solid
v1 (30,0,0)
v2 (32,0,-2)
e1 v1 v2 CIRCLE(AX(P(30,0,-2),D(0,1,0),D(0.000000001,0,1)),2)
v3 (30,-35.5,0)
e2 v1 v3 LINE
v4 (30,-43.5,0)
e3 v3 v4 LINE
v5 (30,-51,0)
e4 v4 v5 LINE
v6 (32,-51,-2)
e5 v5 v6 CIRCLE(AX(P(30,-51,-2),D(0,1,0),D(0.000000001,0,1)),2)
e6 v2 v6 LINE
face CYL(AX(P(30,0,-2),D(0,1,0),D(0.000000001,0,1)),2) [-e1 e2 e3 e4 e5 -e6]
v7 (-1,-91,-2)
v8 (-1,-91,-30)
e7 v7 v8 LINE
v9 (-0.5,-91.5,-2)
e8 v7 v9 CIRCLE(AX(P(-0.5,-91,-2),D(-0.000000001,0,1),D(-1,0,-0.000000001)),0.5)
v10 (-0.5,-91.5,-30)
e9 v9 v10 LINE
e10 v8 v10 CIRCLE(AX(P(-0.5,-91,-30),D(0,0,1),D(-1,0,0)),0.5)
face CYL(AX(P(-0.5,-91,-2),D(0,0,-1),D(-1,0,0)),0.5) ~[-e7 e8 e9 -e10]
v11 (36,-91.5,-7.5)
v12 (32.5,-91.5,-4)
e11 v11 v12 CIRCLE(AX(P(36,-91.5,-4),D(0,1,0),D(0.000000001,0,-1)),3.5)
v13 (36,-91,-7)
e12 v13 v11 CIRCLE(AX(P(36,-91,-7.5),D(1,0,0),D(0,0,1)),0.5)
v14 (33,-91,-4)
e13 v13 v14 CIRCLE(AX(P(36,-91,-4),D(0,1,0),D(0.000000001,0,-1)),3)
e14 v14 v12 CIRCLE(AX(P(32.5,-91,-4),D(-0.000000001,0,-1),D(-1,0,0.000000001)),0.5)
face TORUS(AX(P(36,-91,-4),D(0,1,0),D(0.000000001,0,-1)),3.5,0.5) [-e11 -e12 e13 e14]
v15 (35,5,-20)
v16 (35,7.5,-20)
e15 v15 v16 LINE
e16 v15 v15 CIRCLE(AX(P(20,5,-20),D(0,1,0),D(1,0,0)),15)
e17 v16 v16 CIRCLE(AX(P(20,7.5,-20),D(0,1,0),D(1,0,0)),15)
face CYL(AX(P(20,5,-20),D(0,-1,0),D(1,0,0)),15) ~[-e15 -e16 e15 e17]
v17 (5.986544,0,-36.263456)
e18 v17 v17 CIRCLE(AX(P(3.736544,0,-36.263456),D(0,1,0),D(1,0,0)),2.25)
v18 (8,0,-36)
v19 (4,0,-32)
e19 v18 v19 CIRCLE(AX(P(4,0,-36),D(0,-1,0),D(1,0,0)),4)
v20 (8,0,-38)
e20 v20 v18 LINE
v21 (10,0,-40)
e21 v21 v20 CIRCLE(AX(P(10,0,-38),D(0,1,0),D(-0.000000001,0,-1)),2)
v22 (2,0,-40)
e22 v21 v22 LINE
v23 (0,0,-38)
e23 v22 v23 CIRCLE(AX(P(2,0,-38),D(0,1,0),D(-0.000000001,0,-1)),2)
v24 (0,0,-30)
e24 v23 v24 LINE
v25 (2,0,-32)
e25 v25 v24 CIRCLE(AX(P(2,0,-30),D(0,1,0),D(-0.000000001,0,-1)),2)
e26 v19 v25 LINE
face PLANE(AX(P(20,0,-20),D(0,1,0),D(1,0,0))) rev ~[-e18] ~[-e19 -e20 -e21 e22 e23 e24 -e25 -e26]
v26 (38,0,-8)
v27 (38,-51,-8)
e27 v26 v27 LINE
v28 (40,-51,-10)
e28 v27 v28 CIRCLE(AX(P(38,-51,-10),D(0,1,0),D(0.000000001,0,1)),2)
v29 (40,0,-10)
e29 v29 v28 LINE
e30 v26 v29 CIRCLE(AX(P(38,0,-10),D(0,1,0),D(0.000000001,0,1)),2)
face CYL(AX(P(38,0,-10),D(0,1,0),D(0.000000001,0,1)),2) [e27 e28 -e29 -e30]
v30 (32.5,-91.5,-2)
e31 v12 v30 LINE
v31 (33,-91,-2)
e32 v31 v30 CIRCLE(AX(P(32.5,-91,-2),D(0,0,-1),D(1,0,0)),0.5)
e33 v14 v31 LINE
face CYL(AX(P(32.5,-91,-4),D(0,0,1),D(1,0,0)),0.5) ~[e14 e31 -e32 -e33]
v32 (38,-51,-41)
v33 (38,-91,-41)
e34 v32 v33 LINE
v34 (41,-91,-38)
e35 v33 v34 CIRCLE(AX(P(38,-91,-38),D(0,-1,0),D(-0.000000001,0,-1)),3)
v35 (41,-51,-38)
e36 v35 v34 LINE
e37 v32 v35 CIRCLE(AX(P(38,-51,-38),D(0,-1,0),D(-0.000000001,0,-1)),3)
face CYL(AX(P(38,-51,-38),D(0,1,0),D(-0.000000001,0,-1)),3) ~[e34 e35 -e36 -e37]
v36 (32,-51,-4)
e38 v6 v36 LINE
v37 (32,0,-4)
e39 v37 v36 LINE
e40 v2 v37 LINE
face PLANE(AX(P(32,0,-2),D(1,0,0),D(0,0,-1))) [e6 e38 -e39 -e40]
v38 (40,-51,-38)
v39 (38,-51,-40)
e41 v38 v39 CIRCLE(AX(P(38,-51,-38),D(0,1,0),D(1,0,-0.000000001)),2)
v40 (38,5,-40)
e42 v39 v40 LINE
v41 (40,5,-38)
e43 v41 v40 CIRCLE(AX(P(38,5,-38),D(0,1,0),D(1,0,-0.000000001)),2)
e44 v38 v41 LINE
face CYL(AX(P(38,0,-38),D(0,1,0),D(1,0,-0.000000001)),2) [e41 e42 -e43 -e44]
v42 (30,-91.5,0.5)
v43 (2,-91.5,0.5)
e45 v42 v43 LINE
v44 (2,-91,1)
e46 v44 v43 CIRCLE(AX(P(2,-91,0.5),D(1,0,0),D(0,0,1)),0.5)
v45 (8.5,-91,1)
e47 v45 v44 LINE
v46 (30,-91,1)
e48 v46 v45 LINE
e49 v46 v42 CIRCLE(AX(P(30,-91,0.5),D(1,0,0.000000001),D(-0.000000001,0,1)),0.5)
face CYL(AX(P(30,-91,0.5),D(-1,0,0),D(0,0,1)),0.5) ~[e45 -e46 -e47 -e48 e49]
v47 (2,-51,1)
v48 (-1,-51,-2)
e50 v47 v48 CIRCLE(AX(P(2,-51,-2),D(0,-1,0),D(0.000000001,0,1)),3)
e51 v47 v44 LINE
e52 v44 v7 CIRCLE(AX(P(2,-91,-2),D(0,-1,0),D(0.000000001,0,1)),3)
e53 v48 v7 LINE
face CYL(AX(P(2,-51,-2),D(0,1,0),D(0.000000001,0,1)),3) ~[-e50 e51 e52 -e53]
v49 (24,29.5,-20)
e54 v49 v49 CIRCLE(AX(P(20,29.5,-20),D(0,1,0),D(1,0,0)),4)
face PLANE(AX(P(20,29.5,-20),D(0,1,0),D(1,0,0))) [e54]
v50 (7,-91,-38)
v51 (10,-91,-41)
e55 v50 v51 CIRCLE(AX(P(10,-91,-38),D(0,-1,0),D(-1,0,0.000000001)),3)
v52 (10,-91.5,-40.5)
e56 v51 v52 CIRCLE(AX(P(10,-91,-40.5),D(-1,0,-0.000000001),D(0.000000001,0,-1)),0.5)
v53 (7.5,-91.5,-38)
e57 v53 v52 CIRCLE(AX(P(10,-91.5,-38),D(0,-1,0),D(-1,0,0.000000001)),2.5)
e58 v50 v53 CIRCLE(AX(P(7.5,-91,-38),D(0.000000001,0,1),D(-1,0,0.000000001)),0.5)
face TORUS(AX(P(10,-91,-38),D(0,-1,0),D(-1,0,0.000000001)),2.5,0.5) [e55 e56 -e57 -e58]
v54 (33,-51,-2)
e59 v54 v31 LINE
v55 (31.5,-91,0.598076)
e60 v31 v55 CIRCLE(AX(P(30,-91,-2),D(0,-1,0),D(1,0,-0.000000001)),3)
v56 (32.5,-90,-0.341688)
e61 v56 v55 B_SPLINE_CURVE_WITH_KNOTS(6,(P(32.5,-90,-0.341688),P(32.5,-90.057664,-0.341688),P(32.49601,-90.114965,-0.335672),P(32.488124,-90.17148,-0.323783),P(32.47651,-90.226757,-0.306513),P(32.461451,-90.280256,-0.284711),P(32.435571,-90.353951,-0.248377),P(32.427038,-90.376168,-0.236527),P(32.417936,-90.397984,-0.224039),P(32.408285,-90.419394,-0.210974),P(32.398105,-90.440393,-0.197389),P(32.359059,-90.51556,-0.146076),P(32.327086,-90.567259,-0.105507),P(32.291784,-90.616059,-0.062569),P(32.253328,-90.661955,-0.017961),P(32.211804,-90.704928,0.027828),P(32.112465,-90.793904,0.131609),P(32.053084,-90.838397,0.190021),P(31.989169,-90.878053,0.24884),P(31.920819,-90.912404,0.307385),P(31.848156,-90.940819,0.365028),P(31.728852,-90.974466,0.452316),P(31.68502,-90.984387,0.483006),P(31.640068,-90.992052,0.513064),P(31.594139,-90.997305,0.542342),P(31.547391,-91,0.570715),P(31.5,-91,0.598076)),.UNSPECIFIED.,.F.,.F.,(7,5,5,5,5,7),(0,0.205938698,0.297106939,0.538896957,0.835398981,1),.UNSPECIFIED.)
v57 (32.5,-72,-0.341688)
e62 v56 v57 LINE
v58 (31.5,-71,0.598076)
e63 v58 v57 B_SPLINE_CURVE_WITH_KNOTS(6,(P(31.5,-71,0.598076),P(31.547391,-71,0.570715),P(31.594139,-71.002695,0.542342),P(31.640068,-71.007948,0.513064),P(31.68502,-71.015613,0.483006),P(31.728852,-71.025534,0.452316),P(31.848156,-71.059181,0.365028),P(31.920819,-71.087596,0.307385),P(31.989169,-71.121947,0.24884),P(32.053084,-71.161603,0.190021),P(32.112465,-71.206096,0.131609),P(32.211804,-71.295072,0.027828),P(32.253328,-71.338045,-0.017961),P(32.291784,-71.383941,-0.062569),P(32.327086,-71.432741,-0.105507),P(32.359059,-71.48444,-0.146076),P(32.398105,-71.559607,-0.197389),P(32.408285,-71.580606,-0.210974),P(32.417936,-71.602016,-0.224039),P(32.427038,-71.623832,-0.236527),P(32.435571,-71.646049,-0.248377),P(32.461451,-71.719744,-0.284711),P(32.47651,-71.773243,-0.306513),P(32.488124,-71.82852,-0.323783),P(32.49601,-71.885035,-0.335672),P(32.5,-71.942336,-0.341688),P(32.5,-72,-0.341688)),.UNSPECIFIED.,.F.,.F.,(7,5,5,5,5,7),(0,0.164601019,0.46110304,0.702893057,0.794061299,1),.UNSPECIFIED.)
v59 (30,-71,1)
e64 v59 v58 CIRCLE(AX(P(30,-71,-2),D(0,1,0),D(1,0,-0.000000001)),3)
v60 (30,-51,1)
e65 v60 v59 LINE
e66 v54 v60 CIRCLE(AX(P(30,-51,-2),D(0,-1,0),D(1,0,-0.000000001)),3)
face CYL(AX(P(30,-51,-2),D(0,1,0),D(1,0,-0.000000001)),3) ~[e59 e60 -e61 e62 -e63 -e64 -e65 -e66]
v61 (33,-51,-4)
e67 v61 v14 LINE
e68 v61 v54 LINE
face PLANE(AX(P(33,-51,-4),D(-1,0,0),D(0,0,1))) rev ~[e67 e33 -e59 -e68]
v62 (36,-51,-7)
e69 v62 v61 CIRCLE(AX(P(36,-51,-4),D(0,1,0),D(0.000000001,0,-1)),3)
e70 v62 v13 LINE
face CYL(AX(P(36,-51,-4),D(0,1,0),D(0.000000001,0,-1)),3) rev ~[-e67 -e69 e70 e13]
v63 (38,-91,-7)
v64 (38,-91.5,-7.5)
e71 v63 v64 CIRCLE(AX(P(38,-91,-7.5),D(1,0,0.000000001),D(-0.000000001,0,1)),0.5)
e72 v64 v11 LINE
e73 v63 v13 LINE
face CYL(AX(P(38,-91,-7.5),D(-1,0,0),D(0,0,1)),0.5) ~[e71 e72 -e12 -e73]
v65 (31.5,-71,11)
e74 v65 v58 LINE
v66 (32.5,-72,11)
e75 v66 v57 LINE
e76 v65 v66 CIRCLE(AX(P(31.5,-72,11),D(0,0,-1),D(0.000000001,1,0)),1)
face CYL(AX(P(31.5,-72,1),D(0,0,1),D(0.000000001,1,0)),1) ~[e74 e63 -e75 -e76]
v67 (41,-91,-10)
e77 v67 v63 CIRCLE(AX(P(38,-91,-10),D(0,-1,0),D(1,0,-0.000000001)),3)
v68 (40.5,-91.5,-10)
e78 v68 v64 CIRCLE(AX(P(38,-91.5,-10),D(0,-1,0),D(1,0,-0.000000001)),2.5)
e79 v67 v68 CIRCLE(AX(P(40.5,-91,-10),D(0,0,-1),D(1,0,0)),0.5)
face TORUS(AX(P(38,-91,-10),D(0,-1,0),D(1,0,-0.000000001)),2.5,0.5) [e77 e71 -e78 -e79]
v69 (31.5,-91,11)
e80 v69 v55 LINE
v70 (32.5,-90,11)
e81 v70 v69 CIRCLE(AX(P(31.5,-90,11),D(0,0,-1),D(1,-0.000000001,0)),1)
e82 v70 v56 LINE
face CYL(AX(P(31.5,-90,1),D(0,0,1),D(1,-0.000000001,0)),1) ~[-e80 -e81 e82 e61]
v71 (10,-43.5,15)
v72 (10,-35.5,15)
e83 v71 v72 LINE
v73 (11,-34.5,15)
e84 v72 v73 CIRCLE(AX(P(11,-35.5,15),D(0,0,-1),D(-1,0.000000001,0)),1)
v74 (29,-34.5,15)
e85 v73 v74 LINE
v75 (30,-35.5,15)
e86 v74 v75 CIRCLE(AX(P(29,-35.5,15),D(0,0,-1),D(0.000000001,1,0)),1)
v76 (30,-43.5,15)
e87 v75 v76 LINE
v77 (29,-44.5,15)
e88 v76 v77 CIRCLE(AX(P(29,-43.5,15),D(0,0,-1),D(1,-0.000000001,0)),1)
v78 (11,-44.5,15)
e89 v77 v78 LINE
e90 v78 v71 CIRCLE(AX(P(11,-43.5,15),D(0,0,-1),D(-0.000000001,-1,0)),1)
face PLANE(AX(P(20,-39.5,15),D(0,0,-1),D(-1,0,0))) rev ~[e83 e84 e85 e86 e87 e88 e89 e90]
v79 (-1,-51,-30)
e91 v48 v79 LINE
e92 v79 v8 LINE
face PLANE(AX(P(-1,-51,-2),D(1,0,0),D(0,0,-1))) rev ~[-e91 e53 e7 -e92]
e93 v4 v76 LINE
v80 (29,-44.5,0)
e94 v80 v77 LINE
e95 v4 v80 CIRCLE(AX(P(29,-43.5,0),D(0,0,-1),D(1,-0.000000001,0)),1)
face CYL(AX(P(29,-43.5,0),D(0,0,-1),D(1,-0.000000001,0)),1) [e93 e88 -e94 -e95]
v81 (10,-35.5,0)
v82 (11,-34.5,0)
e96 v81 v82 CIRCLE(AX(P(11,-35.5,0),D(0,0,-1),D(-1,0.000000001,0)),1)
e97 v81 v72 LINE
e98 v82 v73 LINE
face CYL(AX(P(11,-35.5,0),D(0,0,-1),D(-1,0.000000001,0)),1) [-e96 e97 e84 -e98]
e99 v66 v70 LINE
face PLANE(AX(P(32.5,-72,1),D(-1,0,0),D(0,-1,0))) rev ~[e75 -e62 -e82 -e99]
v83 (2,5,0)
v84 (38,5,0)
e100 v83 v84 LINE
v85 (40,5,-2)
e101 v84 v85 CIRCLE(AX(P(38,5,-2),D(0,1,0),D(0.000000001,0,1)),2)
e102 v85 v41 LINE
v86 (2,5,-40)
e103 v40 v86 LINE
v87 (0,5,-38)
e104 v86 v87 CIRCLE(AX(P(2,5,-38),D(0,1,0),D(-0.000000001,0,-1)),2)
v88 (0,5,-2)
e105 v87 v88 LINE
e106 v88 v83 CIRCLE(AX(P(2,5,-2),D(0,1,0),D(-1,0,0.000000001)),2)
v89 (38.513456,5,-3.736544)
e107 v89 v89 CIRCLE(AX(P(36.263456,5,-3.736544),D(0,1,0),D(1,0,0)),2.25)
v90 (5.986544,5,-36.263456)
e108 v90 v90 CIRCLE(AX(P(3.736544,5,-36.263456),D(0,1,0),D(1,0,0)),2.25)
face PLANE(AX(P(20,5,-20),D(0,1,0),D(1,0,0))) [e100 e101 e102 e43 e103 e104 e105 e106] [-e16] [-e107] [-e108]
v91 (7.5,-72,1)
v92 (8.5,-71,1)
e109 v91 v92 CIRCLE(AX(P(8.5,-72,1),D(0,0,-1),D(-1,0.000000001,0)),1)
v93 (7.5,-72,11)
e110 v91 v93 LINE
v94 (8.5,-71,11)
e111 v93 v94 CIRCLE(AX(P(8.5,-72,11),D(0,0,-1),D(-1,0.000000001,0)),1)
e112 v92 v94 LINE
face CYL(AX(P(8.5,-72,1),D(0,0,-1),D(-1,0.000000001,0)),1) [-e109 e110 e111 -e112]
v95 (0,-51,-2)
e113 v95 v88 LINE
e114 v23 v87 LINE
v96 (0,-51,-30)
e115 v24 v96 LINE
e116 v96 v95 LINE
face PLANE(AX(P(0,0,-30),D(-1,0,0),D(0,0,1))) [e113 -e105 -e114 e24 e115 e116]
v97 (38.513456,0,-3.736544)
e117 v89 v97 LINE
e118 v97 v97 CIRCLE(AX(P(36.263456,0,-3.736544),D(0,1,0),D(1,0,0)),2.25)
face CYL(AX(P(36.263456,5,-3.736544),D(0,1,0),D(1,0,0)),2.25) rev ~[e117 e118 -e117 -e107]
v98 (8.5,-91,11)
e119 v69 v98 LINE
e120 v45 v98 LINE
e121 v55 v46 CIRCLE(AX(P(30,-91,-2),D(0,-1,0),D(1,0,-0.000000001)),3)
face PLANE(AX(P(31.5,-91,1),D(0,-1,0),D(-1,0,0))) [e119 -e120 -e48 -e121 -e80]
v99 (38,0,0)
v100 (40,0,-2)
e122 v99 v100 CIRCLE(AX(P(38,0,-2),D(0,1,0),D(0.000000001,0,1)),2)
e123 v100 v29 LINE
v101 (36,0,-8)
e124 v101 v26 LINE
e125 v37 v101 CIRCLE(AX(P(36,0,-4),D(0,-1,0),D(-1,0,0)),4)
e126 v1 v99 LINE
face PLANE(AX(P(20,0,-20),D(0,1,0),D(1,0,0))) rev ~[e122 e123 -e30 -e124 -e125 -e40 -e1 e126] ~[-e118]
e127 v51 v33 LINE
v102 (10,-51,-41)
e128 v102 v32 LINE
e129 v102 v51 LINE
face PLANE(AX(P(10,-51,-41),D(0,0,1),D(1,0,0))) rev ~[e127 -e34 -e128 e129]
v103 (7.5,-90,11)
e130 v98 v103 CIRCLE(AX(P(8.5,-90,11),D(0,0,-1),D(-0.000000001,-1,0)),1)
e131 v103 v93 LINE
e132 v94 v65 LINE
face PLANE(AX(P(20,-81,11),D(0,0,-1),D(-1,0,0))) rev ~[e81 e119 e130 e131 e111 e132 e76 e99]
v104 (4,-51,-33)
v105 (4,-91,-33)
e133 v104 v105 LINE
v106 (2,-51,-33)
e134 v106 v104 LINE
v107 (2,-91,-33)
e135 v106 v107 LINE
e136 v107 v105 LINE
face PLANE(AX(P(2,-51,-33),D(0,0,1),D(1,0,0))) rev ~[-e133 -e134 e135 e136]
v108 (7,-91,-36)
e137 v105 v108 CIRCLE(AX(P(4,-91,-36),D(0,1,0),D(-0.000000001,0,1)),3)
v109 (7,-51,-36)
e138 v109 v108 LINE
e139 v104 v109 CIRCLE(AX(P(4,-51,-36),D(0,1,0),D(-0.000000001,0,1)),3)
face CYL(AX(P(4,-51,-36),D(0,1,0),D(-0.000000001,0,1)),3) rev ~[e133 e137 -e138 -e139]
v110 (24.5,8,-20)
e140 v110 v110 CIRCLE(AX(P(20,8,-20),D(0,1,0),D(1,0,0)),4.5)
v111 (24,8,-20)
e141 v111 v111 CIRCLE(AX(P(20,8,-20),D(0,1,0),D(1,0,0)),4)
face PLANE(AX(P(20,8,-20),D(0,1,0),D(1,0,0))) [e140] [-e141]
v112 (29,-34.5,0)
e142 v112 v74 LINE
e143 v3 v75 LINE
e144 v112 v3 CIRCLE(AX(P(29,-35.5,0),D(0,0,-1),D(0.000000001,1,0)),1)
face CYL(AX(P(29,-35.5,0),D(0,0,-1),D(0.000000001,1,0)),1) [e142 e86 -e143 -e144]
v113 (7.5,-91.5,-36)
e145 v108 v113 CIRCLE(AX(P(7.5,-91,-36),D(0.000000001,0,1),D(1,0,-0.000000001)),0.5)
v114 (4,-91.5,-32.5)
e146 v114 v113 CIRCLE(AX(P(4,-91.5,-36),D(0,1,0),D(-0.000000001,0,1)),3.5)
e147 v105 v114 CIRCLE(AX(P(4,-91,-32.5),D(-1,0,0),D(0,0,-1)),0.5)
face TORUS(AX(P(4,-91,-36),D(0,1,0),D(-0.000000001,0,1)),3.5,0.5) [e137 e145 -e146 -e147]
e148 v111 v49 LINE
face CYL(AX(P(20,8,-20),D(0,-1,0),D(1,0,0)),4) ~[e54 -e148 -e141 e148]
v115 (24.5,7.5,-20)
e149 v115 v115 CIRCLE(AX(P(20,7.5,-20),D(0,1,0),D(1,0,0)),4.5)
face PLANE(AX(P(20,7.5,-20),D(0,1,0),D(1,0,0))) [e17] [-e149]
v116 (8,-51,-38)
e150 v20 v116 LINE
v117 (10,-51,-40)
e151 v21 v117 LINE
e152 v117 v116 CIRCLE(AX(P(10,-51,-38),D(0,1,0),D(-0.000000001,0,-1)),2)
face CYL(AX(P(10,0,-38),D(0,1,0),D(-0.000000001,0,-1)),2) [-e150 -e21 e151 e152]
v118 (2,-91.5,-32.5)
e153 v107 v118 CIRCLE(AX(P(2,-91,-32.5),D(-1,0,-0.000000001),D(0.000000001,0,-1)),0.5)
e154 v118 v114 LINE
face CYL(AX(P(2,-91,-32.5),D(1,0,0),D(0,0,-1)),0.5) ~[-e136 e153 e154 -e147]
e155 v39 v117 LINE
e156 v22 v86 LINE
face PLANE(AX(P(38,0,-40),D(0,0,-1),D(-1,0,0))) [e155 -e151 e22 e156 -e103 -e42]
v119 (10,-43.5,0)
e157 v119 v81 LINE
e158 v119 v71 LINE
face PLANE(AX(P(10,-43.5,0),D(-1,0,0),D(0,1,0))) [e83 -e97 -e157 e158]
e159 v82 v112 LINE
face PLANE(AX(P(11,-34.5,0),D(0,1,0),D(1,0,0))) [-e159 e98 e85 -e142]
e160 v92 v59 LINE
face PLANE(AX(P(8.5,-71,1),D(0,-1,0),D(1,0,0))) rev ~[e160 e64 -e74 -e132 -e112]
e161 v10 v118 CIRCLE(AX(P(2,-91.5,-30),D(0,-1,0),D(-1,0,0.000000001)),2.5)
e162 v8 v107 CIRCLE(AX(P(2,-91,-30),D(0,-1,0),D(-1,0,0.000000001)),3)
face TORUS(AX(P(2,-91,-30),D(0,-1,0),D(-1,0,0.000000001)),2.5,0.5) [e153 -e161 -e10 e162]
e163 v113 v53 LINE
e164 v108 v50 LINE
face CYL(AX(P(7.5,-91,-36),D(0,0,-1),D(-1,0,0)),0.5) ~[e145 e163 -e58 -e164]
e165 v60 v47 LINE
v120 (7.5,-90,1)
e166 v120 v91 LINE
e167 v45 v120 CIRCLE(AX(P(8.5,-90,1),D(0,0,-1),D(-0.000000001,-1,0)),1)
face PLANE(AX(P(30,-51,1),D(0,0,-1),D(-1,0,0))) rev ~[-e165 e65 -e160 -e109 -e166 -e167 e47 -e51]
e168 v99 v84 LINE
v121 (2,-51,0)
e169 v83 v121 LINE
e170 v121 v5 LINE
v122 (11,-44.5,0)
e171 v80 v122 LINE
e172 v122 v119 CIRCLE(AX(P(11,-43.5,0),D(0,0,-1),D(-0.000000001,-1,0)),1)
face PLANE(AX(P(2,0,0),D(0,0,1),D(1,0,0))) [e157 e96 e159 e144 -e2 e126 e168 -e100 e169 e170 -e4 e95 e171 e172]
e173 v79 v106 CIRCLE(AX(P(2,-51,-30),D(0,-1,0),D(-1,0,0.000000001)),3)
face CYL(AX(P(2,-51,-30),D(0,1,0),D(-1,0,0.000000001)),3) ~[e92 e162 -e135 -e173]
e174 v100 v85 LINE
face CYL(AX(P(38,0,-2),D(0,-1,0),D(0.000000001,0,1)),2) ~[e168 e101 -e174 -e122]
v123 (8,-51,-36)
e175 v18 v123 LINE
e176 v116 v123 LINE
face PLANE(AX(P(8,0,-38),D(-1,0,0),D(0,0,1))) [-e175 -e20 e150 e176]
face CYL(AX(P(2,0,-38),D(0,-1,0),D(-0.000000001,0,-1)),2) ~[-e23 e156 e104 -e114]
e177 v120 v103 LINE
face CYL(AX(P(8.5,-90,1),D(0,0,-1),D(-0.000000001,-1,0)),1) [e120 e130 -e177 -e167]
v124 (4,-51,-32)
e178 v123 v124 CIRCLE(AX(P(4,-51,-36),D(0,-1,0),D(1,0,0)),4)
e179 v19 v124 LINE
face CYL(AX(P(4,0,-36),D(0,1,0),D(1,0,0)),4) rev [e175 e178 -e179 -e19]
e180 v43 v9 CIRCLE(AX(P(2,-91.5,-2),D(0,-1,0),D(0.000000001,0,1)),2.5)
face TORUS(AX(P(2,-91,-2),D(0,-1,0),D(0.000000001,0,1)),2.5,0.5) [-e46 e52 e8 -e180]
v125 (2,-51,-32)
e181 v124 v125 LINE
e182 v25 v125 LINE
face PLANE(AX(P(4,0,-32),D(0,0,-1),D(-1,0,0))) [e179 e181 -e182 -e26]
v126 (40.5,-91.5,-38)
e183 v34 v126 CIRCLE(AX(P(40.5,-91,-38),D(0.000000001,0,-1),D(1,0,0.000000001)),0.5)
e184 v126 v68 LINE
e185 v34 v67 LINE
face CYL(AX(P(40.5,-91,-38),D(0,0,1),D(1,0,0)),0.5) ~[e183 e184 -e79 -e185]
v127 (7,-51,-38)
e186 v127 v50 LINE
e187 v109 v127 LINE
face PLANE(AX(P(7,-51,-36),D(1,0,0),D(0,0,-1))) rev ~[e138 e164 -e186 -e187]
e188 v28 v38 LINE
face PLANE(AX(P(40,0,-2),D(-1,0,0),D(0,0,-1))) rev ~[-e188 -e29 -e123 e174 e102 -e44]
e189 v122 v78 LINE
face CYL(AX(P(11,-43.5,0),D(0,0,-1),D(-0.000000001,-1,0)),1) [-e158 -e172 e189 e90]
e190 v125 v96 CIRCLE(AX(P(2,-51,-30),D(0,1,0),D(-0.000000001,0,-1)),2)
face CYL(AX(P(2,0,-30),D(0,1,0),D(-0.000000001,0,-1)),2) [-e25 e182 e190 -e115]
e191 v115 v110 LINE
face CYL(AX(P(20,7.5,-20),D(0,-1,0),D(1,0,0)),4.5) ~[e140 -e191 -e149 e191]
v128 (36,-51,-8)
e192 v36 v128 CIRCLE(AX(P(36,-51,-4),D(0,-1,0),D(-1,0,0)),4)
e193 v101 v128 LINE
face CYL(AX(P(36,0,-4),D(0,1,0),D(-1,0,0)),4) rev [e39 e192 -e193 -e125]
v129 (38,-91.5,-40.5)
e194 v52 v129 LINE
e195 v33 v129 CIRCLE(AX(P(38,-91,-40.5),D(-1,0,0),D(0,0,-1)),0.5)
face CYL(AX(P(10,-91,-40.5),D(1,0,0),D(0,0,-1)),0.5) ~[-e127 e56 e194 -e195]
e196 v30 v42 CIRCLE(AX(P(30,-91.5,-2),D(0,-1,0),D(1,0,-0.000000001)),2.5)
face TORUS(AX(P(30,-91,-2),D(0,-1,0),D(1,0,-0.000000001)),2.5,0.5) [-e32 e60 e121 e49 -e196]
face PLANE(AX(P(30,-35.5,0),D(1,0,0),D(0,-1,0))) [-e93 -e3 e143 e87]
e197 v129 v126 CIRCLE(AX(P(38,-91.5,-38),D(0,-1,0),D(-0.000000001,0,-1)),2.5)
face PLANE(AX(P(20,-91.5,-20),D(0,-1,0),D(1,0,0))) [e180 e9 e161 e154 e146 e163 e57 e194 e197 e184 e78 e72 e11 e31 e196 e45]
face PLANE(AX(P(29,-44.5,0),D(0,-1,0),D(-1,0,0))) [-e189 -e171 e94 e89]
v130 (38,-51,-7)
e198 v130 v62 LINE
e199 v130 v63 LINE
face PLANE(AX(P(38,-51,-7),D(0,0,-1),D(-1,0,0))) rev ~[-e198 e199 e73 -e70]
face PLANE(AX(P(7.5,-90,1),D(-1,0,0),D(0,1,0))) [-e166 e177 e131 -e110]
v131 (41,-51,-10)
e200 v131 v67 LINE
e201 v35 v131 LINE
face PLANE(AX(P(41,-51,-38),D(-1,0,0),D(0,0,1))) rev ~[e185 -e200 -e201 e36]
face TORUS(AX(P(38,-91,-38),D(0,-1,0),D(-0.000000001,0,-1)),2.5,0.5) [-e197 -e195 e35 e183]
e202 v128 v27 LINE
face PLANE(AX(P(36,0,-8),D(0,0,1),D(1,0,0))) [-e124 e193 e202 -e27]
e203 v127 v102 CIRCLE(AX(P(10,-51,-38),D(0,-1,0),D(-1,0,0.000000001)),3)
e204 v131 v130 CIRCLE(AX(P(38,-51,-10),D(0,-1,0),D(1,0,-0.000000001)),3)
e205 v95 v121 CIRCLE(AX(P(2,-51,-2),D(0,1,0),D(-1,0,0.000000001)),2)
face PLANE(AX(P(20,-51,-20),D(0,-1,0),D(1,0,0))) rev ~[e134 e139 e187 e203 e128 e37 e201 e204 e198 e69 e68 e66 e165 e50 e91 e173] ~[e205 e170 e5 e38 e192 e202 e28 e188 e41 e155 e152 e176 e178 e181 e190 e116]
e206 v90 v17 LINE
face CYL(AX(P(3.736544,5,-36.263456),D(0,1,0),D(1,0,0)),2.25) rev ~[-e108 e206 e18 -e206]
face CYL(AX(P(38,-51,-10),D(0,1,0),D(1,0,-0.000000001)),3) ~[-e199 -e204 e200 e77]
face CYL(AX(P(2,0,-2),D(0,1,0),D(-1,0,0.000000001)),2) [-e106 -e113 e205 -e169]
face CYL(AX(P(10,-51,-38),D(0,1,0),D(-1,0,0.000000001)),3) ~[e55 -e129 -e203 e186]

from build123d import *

# Parameters (mm, degrees)
BOSS_EXTRUDE1_DEPTH             = 5
SKETCH2_R                       = 15
BOSS_EXTRUDE2_DEPTH             = 2.5
SKETCH3_R                       = 2.25
CUT_EXTRUDE1_DEPTH              = 5
BOSS_EXTRUDE3_DEPTH             = 51
BOSS_EXTRUDE4_DEPTH             = 40.5
SKETCH6_R                       = 4.5
BOSS_EXTRUDE5_DEPTH             = 0.5
SKETCH7_R                       = 4
BOSS_EXTRUDE6_DEPTH             = 21.5
FILLET1_R                       = 0.5
BOSS_EXTRUDE7_DEPTH             = 15
BOSS_EXTRUDE8_DEPTH             = 10
BOSS_EXTRUDE8_DIRECTION_2_REACH = 44


with BuildPart() as part:
    # Sketch1 → Boss-Extrude1 (new body)
    with BuildSketch(Plane(origin=(0, 0, 0), x_dir=(1, 0, 0), z_dir=(0, 1, 0))):
        with BuildLine():
            Line((2, 0), (38, 0))
            ThreePointArc((38, 0), (39.414213562, 0.585786438), (40, 2))
            Line((40, 2), (40, 38))
            ThreePointArc((40, 38), (39.414213562, 39.414213562), (38, 40))
            Line((38, 40), (2, 40))
            ThreePointArc((2, 40), (0.585786438, 39.414213562), (0, 38))
            Line((0, 38), (0, 2))
            ThreePointArc((0, 2), (0.585786438, 0.585786438), (2, 0))
        make_face()
    extrude(amount=BOSS_EXTRUDE1_DEPTH)

    # Sketch2 → Boss-Extrude2 (add)
    with BuildSketch(Plane(origin=(0, 5, 0), x_dir=(1, 0, 0), z_dir=(0, 1, 0))):
        with Locations((20, 20)):
            Circle(SKETCH2_R)
    extrude(amount=BOSS_EXTRUDE2_DEPTH)

    # Sketch3 → Cut-Extrude1 (cut)
    with BuildSketch(Plane(origin=(0, 5, 0), x_dir=(1, 0, 0), z_dir=(0, 1, 0))):
        with Locations((3.736544033, 36.263455967)):
            Circle(SKETCH3_R)
        with Locations((36.263455967, 3.736544033)):
            Circle(SKETCH3_R)
    extrude(amount=-CUT_EXTRUDE1_DEPTH, mode=Mode.SUBTRACT)

    # Sketch4 → Boss-Extrude3 (add)
    with BuildSketch(Plane.XZ):
        with BuildLine():
            Line((32, -2), (32, -4))
            ThreePointArc((32, -4), (33.171572875, -6.828427125), (36, -8))
            Line((36, -8), (38, -8))
            ThreePointArc((38, -8), (39.414213562, -8.585786438), (40, -10))
            Line((40, -10), (40, -38))
            ThreePointArc((40, -38), (39.414213562, -39.414213562), (38, -40))
            Line((38, -40), (10, -40))
            ThreePointArc((10, -40), (8.585786438, -39.414213562), (8, -38))
            Line((8, -38), (8, -36))
            ThreePointArc((8, -36), (6.828427125, -33.171572875), (4, -32))
            Line((4, -32), (2, -32))
            ThreePointArc((2, -32), (0.585786438, -31.414213562), (0, -30))
            Line((0, -30), (0, -2))
            ThreePointArc((0, -2), (0.585786438, -0.585786438), (2, 0))
            Line((2, 0), (30, 0))
            ThreePointArc((30, 0), (31.414213562, -0.585786438), (32, -2))
        make_face()
    extrude(amount=BOSS_EXTRUDE3_DEPTH)

    # Sketch5 → Boss-Extrude4 (add)
    with BuildSketch(Plane.XZ.offset(51)):
        with BuildLine():
            Line((10, -41), (38, -41))
            ThreePointArc((38, -41), (40.121320344, -40.121320344), (41, -38))
            Line((41, -38), (41, -10))
            ThreePointArc((41, -10), (40.121320344, -7.878679656), (38, -7))
            Line((38, -7), (36, -7))
            ThreePointArc((36, -7), (33.878679656, -6.121320344), (33, -4))
            Line((33, -4), (33, -2))
            ThreePointArc((33, -2), (32.121320344, 0.121320344), (30, 1))
            Line((30, 1), (2, 1))
            ThreePointArc((2, 1), (-0.121320344, 0.121320344), (-1, -2))
            Line((-1, -2), (-1, -30))
            ThreePointArc((-1, -30), (-0.121320344, -32.121320344), (2, -33))
            Line((2, -33), (4, -33))
            ThreePointArc((4, -33), (6.121320344, -33.878679656), (7, -36))
            Line((7, -36), (7, -38))
            ThreePointArc((7, -38), (7.878679656, -40.121320344), (10, -41))
        make_face()
    extrude(amount=BOSS_EXTRUDE4_DEPTH)

    # Sketch6 → Boss-Extrude5 (add)
    with BuildSketch(Plane(origin=(0, 7.5, 0), x_dir=(1, 0, 0), z_dir=(0, 1, 0))):
        with Locations((20, 20)):
            Circle(SKETCH6_R)
    extrude(amount=BOSS_EXTRUDE5_DEPTH)

    # Sketch7 → Boss-Extrude6 (add)
    with BuildSketch(Plane(origin=(0, 8, 0), x_dir=(1, 0, 0), z_dir=(0, 1, 0))):
        with Locations((20, 20)):
            Circle(SKETCH7_R)
    extrude(amount=BOSS_EXTRUDE6_DEPTH)

    # Fillet1
    fillet1_edges = [part.edges().sort_by_distance(p)[0] for p in [
        (7.878679656, -91.5, -40.121320344),
        (24, -91.5, -41),
        (40.121320344, -91.5, -40.121320344),
        (41, -91.5, -24),
        (40.121320344, -91.5, -7.878679656),
        (37, -91.5, -7),
        (33.878679656, -91.5, -6.121320344),
        (33, -91.5, -3),
        (32.121320344, -91.5, 0.121320344),
        (16, -91.5, 1),
        (-0.121320344, -91.5, 0.121320344),
        (-1, -91.5, -16),
        (-0.121320344, -91.5, -32.121320344),
        (3, -91.5, -33),
        (6.121320344, -91.5, -33.878679656),
        (7, -91.5, -37),
    ]]
    fillet(fillet1_edges, radius=FILLET1_R)

    # Sketch8 → Boss-Extrude7 (add)
    with BuildSketch(Plane.XY):
        with BuildLine():
            Line((11, -34.5), (29, -34.5))
            ThreePointArc((29, -34.5), (29.707106781, -34.792893219), (30, -35.5))
            Line((30, -35.5), (30, -43.5))
            ThreePointArc((30, -43.5), (29.707106781, -44.207106781), (29, -44.5))
            Line((29, -44.5), (11, -44.5))
            ThreePointArc((11, -44.5), (10.292893219, -44.207106781), (10, -43.5))
            Line((10, -43.5), (10, -35.5))
            ThreePointArc((10, -35.5), (10.292893219, -34.792893219), (11, -34.5))
        make_face()
    extrude(amount=BOSS_EXTRUDE7_DEPTH)

    # Sketch9 → Boss-Extrude8 (add)
    with BuildSketch(Plane.XY.offset(1)):
        with BuildLine():
            Line((8.5, -71), (31.5, -71))
            ThreePointArc((31.5, -71), (32.207106781, -71.292893219), (32.5, -72))
            Line((32.5, -72), (32.5, -90))
            ThreePointArc((32.5, -90), (32.207106781, -90.707106781), (31.5, -91))
            Line((31.5, -91), (8.5, -91))
            ThreePointArc((8.5, -91), (7.792893219, -90.707106781), (7.5, -90))
            Line((7.5, -90), (7.5, -72))
            ThreePointArc((7.5, -72), (7.792893219, -71.292893219), (8.5, -71))
        make_face()
    extrude(amount=BOSS_EXTRUDE8_DEPTH)

    # Sketch9 → Boss-Extrude8 direction 2 (add, up to next)
    with BuildSketch(Plane.XY.offset(1), mode=Mode.PRIVATE) as boss_extrude8_direction_2_sk1:
        with BuildLine():
            Line((8.5, -71), (31.5, -71))
            ThreePointArc((31.5, -71), (32.207106781, -71.292893219), (32.5, -72))
            Line((32.5, -72), (32.5, -90))
            ThreePointArc((32.5, -90), (32.207106781, -90.707106781), (31.5, -91))
            Line((31.5, -91), (8.5, -91))
            ThreePointArc((8.5, -91), (7.792893219, -90.707106781), (7.5, -90))
            Line((7.5, -90), (7.5, -72))
            ThreePointArc((7.5, -72), (7.792893219, -71.292893219), (8.5, -71))
        make_face()
    boss_extrude8_direction_2_tool1 = extrude(boss_extrude8_direction_2_sk1.sketch, amount=-BOSS_EXTRUDE8_DIRECTION_2_REACH, mode=Mode.PRIVATE) - part.part
    add(boss_extrude8_direction_2_tool1.solids().sort_by_distance((20, -81, 1))[0])


solid = part.part
